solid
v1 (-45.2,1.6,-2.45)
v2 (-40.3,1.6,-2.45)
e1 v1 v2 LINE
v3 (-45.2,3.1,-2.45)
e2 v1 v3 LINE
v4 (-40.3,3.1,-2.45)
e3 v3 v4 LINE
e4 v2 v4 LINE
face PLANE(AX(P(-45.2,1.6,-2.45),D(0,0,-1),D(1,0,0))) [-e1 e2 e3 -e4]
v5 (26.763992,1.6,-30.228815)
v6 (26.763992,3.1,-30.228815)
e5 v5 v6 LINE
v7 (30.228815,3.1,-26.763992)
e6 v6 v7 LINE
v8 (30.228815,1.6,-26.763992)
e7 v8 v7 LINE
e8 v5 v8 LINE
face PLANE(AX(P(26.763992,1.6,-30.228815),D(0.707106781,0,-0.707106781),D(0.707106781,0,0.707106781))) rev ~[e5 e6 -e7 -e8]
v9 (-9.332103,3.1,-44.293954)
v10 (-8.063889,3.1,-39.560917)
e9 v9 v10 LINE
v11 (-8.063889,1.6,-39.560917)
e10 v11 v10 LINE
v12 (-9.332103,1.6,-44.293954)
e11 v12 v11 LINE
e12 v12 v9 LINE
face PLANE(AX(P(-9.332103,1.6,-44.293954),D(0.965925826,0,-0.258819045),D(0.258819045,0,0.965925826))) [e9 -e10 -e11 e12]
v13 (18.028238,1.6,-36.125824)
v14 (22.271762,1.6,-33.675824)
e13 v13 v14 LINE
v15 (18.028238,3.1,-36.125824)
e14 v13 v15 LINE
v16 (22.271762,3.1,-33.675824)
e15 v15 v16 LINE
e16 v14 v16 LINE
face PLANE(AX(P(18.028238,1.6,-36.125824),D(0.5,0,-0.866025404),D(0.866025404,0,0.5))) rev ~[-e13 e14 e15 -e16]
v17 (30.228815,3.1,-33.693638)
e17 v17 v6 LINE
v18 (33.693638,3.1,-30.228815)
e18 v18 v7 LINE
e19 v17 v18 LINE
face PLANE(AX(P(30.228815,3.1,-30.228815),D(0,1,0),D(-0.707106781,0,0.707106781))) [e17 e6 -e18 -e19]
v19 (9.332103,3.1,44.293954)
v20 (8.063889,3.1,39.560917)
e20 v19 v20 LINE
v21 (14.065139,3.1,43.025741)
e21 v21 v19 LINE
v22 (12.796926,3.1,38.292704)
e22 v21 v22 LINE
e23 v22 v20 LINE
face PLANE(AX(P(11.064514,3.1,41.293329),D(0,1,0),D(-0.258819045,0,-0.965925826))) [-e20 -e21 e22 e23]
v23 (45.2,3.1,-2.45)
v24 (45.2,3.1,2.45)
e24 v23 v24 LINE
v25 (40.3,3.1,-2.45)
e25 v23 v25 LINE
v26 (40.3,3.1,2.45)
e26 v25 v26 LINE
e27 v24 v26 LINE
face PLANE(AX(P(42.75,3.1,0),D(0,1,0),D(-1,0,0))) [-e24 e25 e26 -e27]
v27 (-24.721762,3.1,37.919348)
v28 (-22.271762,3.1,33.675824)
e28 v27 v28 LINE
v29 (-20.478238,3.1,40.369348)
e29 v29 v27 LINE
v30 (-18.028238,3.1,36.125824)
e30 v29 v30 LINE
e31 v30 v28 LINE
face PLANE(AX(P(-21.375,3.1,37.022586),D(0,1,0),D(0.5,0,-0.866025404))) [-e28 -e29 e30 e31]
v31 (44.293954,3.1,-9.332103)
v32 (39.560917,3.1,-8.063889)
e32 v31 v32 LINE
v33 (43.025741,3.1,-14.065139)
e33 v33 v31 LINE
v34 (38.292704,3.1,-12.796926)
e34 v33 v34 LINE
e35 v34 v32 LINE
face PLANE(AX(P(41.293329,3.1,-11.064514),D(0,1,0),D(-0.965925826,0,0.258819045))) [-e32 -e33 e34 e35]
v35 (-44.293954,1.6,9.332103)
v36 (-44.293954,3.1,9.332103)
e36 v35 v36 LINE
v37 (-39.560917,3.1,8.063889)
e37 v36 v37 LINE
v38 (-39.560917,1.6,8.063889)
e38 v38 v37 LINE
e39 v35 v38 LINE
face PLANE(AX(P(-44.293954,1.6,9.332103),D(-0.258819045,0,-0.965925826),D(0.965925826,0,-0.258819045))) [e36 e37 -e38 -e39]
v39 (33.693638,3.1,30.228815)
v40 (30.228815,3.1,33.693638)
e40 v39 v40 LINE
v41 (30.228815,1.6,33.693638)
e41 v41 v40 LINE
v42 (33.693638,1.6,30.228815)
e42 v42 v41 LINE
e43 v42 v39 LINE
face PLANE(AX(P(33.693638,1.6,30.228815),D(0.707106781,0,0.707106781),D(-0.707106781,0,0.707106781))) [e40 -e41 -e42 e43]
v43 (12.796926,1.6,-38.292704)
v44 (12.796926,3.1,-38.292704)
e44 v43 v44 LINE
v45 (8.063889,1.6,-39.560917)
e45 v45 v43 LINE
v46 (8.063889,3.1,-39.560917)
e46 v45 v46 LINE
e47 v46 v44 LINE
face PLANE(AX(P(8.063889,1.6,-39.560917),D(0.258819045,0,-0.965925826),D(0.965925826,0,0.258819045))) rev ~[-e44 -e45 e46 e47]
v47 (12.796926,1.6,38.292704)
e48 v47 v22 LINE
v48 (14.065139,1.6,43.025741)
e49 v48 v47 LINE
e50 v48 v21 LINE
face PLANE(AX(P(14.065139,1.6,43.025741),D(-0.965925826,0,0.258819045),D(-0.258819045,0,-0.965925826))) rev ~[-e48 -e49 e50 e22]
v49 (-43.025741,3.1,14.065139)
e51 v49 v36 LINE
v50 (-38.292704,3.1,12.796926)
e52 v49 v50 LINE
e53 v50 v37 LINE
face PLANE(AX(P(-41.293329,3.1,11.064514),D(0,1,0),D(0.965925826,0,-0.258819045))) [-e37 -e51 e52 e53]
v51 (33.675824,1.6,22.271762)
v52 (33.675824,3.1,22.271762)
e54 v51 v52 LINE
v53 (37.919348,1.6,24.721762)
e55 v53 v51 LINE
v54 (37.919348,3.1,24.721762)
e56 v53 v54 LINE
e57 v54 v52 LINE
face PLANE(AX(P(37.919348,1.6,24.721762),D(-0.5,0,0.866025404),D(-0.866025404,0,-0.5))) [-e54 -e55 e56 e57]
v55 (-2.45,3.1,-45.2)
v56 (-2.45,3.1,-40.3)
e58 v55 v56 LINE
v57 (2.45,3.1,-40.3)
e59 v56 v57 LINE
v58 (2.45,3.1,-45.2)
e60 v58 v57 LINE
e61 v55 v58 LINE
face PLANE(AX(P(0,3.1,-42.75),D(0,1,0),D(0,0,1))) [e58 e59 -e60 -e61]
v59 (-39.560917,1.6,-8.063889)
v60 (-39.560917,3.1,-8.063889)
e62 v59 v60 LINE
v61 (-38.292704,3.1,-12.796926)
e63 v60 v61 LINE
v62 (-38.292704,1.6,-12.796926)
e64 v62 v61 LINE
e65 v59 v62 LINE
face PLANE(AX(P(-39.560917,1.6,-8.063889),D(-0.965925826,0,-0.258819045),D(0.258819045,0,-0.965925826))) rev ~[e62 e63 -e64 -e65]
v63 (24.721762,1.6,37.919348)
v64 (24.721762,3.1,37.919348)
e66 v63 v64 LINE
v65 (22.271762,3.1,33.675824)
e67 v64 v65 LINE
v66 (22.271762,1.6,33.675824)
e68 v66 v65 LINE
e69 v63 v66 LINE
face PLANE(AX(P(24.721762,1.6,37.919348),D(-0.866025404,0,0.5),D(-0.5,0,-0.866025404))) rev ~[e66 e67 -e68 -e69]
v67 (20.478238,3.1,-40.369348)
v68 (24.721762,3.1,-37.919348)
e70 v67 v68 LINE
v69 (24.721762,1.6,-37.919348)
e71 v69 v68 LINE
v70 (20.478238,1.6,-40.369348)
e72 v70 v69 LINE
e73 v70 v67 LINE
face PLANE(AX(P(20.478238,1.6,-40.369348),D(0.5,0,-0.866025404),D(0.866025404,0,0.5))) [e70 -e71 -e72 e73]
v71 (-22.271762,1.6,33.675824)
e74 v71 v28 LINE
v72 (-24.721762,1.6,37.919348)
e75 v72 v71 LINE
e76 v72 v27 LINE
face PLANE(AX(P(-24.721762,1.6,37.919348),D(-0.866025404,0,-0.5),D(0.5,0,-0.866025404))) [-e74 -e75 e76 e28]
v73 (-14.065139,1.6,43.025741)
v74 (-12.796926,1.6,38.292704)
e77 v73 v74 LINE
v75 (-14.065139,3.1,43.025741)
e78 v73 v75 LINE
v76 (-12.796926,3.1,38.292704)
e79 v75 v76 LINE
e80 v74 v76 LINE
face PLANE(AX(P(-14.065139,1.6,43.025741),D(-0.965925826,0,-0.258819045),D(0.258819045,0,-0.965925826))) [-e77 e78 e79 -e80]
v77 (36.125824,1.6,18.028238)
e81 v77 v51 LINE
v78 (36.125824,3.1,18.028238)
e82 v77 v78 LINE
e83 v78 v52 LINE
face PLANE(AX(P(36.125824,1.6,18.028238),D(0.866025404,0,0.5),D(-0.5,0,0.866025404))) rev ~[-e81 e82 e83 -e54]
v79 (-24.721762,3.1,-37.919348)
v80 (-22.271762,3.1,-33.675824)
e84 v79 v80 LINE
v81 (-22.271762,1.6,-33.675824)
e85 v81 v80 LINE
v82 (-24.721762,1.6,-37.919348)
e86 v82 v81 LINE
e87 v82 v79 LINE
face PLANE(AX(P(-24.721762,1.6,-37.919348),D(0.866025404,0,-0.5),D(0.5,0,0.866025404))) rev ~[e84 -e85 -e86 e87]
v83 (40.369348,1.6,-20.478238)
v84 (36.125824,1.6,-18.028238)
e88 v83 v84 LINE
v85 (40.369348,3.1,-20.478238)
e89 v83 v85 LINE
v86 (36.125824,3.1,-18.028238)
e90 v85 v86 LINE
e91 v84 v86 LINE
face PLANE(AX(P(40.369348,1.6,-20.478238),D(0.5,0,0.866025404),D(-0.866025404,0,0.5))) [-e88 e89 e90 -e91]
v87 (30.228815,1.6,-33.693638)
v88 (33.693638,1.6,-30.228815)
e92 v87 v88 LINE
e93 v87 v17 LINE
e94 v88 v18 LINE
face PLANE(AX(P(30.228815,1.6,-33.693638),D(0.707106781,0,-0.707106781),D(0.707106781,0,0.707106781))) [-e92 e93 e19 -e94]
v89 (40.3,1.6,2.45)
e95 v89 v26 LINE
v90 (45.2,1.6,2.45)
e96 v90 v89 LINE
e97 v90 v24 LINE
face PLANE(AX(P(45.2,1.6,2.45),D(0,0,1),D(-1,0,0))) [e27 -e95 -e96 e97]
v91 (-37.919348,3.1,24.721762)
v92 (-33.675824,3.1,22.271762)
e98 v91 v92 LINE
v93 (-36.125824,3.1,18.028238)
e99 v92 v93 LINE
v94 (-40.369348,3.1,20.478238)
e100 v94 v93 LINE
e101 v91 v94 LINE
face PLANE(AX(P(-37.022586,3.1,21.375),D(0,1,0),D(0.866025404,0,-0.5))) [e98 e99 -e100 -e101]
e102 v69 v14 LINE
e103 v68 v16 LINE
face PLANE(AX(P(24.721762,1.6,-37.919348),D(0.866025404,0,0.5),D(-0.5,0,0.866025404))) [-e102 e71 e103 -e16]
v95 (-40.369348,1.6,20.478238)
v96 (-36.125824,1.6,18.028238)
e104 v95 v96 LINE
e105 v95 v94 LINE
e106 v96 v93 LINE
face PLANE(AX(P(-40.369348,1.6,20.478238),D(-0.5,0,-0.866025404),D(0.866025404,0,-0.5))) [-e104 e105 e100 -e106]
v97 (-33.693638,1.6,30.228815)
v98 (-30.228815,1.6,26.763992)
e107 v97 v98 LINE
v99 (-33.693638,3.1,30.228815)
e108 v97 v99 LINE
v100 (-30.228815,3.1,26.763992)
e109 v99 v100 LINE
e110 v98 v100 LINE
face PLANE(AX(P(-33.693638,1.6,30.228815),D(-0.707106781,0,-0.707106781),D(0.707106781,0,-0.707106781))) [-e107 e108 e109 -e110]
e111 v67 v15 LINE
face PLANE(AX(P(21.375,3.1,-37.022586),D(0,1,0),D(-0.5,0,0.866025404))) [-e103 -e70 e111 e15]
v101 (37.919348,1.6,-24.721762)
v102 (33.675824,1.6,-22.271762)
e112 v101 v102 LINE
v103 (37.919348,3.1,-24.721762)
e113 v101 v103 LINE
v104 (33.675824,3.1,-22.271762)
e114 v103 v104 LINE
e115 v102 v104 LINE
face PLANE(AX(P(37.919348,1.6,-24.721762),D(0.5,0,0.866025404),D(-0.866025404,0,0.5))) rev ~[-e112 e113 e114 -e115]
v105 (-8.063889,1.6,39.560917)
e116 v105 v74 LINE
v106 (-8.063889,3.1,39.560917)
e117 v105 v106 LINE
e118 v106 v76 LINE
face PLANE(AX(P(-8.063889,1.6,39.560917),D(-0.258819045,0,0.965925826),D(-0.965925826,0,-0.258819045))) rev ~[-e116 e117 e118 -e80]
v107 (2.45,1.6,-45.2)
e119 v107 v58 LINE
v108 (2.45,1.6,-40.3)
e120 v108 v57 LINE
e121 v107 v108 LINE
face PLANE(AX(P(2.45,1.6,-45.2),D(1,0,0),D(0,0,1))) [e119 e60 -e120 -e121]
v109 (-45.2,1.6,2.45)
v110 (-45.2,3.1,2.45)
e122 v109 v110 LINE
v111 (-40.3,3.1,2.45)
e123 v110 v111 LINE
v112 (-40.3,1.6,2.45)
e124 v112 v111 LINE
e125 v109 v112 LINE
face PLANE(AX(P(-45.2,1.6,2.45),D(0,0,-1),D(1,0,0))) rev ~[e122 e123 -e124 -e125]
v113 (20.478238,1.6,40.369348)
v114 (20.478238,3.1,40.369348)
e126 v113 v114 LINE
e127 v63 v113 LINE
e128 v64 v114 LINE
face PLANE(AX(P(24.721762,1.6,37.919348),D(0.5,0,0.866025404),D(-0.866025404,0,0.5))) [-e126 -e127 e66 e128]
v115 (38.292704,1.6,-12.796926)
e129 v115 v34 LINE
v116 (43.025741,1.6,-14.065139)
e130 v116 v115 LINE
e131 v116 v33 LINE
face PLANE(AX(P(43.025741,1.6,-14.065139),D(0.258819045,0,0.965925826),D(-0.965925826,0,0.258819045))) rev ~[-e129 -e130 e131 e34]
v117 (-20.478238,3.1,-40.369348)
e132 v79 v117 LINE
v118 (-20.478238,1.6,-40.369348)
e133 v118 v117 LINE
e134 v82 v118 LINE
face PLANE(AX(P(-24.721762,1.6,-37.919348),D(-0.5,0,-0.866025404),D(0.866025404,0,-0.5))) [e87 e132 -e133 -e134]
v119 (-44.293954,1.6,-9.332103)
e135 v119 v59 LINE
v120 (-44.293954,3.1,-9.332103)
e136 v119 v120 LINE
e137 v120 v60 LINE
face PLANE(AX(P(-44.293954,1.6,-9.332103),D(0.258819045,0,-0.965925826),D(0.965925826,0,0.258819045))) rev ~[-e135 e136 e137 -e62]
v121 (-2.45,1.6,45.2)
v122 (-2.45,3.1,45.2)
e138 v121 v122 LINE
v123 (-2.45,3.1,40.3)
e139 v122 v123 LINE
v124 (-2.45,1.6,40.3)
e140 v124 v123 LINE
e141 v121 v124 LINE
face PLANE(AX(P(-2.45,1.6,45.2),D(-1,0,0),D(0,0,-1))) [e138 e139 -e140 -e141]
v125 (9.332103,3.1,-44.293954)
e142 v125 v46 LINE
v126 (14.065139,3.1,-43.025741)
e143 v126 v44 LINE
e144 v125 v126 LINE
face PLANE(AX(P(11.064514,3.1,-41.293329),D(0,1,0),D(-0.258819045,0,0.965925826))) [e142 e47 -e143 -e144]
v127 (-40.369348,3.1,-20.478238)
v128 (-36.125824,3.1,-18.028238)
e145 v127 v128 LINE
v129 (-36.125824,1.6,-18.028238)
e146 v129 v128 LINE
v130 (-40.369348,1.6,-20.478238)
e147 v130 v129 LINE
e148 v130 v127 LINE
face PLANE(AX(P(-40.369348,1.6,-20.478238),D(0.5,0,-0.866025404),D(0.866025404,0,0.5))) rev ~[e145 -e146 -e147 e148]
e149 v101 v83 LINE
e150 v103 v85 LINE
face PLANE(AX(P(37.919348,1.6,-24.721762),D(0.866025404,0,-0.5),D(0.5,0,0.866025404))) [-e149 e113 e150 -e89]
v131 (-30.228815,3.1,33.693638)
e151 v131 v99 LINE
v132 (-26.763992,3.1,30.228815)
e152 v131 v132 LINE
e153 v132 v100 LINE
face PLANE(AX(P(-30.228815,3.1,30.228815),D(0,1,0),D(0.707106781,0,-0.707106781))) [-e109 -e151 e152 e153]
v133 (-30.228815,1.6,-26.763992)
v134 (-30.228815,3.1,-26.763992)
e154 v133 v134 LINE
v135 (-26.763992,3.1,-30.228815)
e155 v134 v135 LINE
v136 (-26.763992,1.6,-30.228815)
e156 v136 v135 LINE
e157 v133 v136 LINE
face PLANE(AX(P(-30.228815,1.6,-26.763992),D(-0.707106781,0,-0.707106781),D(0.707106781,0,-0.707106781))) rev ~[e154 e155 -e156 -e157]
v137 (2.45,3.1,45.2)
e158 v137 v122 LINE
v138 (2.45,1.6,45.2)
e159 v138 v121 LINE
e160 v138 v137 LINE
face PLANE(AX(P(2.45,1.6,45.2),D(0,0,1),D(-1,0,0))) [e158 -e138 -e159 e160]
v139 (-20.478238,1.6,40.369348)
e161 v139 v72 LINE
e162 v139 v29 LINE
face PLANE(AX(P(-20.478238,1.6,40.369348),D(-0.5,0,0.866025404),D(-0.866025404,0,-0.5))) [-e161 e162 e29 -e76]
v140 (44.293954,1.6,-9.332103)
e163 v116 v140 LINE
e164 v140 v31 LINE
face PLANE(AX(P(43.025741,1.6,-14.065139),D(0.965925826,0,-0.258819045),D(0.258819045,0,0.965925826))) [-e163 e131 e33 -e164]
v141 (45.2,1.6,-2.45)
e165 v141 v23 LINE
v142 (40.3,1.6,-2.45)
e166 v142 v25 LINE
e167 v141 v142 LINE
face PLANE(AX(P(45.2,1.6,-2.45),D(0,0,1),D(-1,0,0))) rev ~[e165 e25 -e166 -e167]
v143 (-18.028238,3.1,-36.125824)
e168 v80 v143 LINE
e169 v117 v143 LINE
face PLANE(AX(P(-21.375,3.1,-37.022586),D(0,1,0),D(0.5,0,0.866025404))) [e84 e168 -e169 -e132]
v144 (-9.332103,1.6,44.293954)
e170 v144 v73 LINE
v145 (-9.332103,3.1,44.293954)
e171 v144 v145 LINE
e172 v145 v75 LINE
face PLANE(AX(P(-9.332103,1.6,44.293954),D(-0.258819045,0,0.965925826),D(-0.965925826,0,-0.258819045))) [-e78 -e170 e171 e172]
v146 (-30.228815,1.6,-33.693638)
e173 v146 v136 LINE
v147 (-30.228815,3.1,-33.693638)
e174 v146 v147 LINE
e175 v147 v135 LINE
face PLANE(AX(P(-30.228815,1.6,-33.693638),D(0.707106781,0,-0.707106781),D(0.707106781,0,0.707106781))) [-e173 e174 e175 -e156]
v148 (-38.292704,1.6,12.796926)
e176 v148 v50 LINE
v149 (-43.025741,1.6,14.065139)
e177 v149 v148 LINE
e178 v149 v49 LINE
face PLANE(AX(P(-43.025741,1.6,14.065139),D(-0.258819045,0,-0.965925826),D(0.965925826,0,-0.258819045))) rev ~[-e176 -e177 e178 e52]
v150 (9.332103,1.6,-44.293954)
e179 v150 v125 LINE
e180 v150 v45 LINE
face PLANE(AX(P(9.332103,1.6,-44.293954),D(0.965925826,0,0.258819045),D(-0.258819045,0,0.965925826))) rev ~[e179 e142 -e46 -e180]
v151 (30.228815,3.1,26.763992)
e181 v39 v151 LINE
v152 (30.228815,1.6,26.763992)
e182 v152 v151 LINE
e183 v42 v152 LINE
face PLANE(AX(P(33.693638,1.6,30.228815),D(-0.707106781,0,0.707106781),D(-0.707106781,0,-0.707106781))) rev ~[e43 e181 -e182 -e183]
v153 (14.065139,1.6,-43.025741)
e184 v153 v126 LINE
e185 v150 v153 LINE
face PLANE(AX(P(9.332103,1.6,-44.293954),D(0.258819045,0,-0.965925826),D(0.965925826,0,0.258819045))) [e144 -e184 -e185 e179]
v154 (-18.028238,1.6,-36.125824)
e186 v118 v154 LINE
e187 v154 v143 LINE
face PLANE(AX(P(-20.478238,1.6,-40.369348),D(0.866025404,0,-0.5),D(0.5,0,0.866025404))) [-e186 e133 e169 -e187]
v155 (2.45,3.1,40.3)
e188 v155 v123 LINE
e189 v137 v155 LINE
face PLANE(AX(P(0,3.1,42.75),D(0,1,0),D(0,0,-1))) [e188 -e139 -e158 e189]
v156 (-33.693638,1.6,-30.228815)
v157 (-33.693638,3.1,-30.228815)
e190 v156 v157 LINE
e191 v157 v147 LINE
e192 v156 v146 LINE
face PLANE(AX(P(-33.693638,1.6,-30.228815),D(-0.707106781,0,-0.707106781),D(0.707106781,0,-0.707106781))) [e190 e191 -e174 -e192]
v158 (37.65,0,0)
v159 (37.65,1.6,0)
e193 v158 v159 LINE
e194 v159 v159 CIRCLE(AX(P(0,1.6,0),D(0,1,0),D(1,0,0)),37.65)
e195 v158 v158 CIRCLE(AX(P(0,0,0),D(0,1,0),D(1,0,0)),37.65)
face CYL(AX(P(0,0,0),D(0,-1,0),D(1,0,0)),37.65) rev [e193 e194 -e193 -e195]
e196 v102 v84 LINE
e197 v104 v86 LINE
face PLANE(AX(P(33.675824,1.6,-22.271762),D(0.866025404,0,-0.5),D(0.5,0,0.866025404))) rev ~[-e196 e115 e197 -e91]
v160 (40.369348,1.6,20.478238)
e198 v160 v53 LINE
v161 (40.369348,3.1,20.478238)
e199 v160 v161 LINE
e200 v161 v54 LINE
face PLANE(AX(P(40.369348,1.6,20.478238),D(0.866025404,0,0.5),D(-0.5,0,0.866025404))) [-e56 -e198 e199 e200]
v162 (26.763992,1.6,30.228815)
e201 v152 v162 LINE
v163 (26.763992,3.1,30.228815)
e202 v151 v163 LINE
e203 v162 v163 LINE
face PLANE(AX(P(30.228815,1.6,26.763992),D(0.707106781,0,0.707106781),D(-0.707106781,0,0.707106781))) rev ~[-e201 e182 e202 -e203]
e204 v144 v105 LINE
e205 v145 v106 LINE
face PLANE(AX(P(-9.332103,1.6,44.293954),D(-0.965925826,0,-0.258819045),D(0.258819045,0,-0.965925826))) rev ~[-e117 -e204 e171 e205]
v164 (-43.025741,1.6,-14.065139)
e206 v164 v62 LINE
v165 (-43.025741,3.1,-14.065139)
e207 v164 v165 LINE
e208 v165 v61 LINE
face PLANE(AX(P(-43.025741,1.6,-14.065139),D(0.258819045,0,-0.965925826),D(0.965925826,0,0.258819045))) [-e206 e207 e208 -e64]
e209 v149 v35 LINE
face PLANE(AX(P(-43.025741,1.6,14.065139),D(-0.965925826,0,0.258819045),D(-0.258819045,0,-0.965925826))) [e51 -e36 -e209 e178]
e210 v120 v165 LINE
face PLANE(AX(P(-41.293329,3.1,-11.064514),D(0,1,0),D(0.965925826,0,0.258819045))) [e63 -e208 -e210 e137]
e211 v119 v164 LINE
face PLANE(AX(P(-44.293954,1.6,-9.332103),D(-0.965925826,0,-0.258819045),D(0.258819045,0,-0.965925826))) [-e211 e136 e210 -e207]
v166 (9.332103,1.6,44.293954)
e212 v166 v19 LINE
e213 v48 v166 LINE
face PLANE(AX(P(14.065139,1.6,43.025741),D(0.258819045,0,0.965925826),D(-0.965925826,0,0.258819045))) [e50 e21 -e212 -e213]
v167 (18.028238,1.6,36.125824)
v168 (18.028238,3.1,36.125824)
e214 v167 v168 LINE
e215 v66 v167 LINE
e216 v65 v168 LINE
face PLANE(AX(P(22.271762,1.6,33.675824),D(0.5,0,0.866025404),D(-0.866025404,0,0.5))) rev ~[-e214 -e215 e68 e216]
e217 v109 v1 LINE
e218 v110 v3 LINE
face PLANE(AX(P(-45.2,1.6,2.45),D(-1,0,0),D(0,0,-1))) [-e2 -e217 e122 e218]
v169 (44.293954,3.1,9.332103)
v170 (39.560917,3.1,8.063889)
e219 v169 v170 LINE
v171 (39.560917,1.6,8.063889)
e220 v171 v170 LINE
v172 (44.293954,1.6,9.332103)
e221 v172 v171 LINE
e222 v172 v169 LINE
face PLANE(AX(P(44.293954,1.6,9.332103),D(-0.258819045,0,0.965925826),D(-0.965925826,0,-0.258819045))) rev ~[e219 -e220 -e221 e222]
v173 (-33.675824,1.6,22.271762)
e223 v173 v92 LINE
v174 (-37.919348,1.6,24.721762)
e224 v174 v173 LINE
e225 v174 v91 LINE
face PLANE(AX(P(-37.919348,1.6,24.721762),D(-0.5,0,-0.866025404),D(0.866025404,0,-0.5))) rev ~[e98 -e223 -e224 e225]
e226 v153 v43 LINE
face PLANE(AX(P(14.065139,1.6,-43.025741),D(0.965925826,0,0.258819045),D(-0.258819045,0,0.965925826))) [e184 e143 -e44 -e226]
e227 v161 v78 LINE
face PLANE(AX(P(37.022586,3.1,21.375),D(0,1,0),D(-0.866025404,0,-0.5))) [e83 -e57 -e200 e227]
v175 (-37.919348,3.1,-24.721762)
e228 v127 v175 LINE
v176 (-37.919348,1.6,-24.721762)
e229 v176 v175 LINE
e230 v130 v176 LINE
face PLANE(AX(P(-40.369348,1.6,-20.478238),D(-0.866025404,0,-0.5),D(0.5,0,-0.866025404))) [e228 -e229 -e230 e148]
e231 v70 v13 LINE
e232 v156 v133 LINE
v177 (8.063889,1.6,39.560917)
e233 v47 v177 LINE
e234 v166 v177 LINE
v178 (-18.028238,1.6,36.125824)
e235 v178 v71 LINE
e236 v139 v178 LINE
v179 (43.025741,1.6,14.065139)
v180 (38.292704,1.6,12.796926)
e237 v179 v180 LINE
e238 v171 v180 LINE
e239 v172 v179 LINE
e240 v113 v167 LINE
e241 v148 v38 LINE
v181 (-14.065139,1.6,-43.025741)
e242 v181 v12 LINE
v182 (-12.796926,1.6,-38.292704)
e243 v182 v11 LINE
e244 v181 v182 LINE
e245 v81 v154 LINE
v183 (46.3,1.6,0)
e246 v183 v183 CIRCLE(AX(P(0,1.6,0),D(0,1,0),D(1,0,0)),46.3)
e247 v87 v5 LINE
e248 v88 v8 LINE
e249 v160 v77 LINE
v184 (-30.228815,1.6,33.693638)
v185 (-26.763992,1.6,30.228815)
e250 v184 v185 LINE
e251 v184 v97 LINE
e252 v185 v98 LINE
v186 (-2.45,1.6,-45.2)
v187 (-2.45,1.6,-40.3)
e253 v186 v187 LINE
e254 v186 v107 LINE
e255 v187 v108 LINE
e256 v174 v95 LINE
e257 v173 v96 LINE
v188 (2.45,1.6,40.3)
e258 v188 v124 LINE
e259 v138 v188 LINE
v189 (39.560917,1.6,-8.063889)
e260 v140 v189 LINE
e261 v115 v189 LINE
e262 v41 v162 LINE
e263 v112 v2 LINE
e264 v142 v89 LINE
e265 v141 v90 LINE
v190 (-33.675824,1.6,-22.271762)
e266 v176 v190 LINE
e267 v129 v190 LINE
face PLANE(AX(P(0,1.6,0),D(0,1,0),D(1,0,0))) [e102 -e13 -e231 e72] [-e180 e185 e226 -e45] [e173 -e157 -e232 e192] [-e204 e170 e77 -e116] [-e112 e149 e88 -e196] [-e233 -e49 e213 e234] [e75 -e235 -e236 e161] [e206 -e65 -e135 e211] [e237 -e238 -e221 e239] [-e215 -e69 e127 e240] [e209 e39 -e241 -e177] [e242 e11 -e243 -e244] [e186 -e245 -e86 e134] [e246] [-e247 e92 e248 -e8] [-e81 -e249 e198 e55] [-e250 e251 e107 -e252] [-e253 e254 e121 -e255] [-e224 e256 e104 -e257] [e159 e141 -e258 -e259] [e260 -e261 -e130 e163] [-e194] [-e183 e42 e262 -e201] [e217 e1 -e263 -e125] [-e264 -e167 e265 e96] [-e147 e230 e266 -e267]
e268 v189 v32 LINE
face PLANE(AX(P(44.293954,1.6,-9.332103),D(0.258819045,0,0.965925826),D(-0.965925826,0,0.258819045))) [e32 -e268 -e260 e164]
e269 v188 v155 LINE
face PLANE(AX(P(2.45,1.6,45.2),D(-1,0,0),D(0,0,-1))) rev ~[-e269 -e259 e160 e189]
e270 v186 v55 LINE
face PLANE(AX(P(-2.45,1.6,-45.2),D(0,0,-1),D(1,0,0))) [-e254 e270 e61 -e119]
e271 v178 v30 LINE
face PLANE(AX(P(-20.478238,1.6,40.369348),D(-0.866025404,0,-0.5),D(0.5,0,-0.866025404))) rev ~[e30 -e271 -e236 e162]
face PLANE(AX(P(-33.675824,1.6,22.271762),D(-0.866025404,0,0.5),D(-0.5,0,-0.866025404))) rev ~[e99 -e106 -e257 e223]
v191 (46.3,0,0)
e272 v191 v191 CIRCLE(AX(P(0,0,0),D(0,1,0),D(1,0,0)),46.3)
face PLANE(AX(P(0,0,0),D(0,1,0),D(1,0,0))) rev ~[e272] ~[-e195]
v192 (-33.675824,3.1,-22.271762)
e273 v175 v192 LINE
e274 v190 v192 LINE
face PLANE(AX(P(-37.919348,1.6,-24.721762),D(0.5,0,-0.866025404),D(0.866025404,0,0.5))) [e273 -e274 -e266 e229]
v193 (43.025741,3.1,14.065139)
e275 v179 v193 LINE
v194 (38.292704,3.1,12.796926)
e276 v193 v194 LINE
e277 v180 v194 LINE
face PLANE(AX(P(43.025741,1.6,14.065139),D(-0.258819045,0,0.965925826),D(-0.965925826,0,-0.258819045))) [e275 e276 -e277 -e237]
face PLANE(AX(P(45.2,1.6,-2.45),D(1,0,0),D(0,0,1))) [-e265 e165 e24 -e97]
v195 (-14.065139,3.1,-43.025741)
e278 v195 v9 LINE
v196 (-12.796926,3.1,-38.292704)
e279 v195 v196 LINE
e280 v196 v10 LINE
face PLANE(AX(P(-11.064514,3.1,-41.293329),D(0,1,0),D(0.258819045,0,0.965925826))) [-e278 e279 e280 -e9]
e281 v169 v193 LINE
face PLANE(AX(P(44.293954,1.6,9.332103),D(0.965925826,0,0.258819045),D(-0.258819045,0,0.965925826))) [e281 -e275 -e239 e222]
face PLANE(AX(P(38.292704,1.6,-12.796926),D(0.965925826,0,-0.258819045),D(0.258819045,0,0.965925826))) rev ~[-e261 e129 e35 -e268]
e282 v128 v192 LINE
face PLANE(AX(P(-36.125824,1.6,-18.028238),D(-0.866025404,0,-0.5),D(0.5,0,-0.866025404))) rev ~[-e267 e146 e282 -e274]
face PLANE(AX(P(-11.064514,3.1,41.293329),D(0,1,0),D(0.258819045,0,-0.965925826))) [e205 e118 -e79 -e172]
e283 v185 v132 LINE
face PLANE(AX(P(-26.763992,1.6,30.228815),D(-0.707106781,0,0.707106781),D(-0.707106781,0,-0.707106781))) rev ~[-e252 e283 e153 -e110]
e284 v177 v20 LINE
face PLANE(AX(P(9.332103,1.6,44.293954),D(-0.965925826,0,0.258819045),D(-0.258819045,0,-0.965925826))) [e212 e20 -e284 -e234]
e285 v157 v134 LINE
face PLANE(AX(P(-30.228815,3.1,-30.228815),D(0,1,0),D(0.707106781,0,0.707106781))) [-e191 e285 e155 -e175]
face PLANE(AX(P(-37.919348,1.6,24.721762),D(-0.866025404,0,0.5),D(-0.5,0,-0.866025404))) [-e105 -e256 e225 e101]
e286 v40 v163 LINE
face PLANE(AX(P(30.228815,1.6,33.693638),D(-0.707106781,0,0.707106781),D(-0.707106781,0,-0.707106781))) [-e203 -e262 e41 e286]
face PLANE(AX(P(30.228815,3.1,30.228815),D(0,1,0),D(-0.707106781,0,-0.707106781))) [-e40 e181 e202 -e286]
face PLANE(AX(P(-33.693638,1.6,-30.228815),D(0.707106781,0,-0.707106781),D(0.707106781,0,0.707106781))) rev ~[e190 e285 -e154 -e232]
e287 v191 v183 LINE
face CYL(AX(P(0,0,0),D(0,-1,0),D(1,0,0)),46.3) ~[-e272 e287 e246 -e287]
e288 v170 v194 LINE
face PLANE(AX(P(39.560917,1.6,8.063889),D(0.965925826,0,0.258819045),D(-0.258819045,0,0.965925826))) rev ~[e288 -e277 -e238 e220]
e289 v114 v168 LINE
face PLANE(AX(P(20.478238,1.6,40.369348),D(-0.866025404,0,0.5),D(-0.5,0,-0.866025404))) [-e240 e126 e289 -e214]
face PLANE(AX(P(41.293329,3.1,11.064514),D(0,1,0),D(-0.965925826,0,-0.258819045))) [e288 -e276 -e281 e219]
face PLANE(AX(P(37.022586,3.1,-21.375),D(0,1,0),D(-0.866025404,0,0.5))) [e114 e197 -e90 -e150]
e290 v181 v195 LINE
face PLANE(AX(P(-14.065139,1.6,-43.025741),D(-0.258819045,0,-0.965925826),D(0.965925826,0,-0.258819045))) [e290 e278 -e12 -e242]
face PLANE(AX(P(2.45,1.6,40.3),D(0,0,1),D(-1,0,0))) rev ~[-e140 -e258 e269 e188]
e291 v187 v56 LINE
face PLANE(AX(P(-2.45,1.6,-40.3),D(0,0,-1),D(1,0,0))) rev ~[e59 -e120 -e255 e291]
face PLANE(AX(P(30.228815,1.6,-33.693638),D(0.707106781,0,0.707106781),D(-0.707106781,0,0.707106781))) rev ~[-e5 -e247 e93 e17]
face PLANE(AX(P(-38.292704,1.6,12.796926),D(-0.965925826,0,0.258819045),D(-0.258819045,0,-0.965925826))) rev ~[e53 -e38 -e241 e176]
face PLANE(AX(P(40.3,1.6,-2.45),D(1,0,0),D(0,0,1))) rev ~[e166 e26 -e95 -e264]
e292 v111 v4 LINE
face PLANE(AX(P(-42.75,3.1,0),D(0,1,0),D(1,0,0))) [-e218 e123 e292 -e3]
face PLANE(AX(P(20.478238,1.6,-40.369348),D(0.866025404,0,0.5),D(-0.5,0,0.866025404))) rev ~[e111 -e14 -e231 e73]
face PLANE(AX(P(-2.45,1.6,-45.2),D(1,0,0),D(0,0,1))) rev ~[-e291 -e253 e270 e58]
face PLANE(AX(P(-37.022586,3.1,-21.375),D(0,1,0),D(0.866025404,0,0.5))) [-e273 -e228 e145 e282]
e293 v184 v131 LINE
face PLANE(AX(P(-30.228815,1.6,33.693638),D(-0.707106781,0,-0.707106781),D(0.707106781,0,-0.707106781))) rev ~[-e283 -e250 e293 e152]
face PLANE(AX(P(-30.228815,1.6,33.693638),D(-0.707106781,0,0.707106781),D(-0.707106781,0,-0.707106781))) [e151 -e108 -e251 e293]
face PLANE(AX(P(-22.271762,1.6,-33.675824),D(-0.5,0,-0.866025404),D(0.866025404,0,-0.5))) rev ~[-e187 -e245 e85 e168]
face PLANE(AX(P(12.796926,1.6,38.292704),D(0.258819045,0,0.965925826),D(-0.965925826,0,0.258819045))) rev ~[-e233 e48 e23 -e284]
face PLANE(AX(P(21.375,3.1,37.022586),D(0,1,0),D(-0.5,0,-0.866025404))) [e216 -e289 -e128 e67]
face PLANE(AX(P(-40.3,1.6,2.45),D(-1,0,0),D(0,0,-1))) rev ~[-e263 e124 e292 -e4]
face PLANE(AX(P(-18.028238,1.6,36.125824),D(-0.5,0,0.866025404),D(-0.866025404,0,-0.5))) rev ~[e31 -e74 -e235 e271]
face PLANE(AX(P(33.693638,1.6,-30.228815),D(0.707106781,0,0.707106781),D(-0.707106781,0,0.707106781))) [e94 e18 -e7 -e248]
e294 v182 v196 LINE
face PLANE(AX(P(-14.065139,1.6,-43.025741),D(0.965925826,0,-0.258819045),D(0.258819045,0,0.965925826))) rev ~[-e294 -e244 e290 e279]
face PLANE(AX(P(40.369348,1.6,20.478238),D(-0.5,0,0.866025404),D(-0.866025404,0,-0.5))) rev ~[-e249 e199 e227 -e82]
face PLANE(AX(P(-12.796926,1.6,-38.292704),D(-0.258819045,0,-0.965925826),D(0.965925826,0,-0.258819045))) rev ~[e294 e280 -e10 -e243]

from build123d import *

# Parameters (mm, degrees)
SKETCH_1_R               = 46.3
SKETCH_1_R_2             = 37.65
EXTRUDE_1_DEPTH          = 1.6
SKETCH_2_W               = 4.9
SKETCH_2_H               = 4.9
EXTRUDE_2_DEPTH          = 1.5
PATTERN_CIRCULAR_1_COUNT = 24


with BuildPart() as part:
    # 草图1 → 凸台-拉伸1 (new body)
    with BuildSketch(Plane(origin=(0, 0, 0), x_dir=(1, 0, 0), z_dir=(0, 1, 0))):
        Circle(SKETCH_1_R)
        Circle(SKETCH_1_R_2, mode=Mode.SUBTRACT)
    extrude(amount=EXTRUDE_1_DEPTH)

    # 草图2 → 凸台-拉伸2 (add)
    with BuildSketch(Plane(origin=(0, 1.6, 0), x_dir=(1, 0, 0), z_dir=(0, 1, 0))):
        with Locations((-42.75, 0)):
            Rectangle(SKETCH_2_W, SKETCH_2_H)
    extrude_2 = extrude(amount=EXTRUDE_2_DEPTH)

    # 阵列(圆周)1: 凸台-拉伸2 ×24 about axis
    pattern_circular_1_axis = Axis((0, 0, 0), (0, 1, 0))
    for i in range(1, PATTERN_CIRCULAR_1_COUNT):
        add(extrude_2.rotate(pattern_circular_1_axis, i * 360 / PATTERN_CIRCULAR_1_COUNT))


solid = part.part
